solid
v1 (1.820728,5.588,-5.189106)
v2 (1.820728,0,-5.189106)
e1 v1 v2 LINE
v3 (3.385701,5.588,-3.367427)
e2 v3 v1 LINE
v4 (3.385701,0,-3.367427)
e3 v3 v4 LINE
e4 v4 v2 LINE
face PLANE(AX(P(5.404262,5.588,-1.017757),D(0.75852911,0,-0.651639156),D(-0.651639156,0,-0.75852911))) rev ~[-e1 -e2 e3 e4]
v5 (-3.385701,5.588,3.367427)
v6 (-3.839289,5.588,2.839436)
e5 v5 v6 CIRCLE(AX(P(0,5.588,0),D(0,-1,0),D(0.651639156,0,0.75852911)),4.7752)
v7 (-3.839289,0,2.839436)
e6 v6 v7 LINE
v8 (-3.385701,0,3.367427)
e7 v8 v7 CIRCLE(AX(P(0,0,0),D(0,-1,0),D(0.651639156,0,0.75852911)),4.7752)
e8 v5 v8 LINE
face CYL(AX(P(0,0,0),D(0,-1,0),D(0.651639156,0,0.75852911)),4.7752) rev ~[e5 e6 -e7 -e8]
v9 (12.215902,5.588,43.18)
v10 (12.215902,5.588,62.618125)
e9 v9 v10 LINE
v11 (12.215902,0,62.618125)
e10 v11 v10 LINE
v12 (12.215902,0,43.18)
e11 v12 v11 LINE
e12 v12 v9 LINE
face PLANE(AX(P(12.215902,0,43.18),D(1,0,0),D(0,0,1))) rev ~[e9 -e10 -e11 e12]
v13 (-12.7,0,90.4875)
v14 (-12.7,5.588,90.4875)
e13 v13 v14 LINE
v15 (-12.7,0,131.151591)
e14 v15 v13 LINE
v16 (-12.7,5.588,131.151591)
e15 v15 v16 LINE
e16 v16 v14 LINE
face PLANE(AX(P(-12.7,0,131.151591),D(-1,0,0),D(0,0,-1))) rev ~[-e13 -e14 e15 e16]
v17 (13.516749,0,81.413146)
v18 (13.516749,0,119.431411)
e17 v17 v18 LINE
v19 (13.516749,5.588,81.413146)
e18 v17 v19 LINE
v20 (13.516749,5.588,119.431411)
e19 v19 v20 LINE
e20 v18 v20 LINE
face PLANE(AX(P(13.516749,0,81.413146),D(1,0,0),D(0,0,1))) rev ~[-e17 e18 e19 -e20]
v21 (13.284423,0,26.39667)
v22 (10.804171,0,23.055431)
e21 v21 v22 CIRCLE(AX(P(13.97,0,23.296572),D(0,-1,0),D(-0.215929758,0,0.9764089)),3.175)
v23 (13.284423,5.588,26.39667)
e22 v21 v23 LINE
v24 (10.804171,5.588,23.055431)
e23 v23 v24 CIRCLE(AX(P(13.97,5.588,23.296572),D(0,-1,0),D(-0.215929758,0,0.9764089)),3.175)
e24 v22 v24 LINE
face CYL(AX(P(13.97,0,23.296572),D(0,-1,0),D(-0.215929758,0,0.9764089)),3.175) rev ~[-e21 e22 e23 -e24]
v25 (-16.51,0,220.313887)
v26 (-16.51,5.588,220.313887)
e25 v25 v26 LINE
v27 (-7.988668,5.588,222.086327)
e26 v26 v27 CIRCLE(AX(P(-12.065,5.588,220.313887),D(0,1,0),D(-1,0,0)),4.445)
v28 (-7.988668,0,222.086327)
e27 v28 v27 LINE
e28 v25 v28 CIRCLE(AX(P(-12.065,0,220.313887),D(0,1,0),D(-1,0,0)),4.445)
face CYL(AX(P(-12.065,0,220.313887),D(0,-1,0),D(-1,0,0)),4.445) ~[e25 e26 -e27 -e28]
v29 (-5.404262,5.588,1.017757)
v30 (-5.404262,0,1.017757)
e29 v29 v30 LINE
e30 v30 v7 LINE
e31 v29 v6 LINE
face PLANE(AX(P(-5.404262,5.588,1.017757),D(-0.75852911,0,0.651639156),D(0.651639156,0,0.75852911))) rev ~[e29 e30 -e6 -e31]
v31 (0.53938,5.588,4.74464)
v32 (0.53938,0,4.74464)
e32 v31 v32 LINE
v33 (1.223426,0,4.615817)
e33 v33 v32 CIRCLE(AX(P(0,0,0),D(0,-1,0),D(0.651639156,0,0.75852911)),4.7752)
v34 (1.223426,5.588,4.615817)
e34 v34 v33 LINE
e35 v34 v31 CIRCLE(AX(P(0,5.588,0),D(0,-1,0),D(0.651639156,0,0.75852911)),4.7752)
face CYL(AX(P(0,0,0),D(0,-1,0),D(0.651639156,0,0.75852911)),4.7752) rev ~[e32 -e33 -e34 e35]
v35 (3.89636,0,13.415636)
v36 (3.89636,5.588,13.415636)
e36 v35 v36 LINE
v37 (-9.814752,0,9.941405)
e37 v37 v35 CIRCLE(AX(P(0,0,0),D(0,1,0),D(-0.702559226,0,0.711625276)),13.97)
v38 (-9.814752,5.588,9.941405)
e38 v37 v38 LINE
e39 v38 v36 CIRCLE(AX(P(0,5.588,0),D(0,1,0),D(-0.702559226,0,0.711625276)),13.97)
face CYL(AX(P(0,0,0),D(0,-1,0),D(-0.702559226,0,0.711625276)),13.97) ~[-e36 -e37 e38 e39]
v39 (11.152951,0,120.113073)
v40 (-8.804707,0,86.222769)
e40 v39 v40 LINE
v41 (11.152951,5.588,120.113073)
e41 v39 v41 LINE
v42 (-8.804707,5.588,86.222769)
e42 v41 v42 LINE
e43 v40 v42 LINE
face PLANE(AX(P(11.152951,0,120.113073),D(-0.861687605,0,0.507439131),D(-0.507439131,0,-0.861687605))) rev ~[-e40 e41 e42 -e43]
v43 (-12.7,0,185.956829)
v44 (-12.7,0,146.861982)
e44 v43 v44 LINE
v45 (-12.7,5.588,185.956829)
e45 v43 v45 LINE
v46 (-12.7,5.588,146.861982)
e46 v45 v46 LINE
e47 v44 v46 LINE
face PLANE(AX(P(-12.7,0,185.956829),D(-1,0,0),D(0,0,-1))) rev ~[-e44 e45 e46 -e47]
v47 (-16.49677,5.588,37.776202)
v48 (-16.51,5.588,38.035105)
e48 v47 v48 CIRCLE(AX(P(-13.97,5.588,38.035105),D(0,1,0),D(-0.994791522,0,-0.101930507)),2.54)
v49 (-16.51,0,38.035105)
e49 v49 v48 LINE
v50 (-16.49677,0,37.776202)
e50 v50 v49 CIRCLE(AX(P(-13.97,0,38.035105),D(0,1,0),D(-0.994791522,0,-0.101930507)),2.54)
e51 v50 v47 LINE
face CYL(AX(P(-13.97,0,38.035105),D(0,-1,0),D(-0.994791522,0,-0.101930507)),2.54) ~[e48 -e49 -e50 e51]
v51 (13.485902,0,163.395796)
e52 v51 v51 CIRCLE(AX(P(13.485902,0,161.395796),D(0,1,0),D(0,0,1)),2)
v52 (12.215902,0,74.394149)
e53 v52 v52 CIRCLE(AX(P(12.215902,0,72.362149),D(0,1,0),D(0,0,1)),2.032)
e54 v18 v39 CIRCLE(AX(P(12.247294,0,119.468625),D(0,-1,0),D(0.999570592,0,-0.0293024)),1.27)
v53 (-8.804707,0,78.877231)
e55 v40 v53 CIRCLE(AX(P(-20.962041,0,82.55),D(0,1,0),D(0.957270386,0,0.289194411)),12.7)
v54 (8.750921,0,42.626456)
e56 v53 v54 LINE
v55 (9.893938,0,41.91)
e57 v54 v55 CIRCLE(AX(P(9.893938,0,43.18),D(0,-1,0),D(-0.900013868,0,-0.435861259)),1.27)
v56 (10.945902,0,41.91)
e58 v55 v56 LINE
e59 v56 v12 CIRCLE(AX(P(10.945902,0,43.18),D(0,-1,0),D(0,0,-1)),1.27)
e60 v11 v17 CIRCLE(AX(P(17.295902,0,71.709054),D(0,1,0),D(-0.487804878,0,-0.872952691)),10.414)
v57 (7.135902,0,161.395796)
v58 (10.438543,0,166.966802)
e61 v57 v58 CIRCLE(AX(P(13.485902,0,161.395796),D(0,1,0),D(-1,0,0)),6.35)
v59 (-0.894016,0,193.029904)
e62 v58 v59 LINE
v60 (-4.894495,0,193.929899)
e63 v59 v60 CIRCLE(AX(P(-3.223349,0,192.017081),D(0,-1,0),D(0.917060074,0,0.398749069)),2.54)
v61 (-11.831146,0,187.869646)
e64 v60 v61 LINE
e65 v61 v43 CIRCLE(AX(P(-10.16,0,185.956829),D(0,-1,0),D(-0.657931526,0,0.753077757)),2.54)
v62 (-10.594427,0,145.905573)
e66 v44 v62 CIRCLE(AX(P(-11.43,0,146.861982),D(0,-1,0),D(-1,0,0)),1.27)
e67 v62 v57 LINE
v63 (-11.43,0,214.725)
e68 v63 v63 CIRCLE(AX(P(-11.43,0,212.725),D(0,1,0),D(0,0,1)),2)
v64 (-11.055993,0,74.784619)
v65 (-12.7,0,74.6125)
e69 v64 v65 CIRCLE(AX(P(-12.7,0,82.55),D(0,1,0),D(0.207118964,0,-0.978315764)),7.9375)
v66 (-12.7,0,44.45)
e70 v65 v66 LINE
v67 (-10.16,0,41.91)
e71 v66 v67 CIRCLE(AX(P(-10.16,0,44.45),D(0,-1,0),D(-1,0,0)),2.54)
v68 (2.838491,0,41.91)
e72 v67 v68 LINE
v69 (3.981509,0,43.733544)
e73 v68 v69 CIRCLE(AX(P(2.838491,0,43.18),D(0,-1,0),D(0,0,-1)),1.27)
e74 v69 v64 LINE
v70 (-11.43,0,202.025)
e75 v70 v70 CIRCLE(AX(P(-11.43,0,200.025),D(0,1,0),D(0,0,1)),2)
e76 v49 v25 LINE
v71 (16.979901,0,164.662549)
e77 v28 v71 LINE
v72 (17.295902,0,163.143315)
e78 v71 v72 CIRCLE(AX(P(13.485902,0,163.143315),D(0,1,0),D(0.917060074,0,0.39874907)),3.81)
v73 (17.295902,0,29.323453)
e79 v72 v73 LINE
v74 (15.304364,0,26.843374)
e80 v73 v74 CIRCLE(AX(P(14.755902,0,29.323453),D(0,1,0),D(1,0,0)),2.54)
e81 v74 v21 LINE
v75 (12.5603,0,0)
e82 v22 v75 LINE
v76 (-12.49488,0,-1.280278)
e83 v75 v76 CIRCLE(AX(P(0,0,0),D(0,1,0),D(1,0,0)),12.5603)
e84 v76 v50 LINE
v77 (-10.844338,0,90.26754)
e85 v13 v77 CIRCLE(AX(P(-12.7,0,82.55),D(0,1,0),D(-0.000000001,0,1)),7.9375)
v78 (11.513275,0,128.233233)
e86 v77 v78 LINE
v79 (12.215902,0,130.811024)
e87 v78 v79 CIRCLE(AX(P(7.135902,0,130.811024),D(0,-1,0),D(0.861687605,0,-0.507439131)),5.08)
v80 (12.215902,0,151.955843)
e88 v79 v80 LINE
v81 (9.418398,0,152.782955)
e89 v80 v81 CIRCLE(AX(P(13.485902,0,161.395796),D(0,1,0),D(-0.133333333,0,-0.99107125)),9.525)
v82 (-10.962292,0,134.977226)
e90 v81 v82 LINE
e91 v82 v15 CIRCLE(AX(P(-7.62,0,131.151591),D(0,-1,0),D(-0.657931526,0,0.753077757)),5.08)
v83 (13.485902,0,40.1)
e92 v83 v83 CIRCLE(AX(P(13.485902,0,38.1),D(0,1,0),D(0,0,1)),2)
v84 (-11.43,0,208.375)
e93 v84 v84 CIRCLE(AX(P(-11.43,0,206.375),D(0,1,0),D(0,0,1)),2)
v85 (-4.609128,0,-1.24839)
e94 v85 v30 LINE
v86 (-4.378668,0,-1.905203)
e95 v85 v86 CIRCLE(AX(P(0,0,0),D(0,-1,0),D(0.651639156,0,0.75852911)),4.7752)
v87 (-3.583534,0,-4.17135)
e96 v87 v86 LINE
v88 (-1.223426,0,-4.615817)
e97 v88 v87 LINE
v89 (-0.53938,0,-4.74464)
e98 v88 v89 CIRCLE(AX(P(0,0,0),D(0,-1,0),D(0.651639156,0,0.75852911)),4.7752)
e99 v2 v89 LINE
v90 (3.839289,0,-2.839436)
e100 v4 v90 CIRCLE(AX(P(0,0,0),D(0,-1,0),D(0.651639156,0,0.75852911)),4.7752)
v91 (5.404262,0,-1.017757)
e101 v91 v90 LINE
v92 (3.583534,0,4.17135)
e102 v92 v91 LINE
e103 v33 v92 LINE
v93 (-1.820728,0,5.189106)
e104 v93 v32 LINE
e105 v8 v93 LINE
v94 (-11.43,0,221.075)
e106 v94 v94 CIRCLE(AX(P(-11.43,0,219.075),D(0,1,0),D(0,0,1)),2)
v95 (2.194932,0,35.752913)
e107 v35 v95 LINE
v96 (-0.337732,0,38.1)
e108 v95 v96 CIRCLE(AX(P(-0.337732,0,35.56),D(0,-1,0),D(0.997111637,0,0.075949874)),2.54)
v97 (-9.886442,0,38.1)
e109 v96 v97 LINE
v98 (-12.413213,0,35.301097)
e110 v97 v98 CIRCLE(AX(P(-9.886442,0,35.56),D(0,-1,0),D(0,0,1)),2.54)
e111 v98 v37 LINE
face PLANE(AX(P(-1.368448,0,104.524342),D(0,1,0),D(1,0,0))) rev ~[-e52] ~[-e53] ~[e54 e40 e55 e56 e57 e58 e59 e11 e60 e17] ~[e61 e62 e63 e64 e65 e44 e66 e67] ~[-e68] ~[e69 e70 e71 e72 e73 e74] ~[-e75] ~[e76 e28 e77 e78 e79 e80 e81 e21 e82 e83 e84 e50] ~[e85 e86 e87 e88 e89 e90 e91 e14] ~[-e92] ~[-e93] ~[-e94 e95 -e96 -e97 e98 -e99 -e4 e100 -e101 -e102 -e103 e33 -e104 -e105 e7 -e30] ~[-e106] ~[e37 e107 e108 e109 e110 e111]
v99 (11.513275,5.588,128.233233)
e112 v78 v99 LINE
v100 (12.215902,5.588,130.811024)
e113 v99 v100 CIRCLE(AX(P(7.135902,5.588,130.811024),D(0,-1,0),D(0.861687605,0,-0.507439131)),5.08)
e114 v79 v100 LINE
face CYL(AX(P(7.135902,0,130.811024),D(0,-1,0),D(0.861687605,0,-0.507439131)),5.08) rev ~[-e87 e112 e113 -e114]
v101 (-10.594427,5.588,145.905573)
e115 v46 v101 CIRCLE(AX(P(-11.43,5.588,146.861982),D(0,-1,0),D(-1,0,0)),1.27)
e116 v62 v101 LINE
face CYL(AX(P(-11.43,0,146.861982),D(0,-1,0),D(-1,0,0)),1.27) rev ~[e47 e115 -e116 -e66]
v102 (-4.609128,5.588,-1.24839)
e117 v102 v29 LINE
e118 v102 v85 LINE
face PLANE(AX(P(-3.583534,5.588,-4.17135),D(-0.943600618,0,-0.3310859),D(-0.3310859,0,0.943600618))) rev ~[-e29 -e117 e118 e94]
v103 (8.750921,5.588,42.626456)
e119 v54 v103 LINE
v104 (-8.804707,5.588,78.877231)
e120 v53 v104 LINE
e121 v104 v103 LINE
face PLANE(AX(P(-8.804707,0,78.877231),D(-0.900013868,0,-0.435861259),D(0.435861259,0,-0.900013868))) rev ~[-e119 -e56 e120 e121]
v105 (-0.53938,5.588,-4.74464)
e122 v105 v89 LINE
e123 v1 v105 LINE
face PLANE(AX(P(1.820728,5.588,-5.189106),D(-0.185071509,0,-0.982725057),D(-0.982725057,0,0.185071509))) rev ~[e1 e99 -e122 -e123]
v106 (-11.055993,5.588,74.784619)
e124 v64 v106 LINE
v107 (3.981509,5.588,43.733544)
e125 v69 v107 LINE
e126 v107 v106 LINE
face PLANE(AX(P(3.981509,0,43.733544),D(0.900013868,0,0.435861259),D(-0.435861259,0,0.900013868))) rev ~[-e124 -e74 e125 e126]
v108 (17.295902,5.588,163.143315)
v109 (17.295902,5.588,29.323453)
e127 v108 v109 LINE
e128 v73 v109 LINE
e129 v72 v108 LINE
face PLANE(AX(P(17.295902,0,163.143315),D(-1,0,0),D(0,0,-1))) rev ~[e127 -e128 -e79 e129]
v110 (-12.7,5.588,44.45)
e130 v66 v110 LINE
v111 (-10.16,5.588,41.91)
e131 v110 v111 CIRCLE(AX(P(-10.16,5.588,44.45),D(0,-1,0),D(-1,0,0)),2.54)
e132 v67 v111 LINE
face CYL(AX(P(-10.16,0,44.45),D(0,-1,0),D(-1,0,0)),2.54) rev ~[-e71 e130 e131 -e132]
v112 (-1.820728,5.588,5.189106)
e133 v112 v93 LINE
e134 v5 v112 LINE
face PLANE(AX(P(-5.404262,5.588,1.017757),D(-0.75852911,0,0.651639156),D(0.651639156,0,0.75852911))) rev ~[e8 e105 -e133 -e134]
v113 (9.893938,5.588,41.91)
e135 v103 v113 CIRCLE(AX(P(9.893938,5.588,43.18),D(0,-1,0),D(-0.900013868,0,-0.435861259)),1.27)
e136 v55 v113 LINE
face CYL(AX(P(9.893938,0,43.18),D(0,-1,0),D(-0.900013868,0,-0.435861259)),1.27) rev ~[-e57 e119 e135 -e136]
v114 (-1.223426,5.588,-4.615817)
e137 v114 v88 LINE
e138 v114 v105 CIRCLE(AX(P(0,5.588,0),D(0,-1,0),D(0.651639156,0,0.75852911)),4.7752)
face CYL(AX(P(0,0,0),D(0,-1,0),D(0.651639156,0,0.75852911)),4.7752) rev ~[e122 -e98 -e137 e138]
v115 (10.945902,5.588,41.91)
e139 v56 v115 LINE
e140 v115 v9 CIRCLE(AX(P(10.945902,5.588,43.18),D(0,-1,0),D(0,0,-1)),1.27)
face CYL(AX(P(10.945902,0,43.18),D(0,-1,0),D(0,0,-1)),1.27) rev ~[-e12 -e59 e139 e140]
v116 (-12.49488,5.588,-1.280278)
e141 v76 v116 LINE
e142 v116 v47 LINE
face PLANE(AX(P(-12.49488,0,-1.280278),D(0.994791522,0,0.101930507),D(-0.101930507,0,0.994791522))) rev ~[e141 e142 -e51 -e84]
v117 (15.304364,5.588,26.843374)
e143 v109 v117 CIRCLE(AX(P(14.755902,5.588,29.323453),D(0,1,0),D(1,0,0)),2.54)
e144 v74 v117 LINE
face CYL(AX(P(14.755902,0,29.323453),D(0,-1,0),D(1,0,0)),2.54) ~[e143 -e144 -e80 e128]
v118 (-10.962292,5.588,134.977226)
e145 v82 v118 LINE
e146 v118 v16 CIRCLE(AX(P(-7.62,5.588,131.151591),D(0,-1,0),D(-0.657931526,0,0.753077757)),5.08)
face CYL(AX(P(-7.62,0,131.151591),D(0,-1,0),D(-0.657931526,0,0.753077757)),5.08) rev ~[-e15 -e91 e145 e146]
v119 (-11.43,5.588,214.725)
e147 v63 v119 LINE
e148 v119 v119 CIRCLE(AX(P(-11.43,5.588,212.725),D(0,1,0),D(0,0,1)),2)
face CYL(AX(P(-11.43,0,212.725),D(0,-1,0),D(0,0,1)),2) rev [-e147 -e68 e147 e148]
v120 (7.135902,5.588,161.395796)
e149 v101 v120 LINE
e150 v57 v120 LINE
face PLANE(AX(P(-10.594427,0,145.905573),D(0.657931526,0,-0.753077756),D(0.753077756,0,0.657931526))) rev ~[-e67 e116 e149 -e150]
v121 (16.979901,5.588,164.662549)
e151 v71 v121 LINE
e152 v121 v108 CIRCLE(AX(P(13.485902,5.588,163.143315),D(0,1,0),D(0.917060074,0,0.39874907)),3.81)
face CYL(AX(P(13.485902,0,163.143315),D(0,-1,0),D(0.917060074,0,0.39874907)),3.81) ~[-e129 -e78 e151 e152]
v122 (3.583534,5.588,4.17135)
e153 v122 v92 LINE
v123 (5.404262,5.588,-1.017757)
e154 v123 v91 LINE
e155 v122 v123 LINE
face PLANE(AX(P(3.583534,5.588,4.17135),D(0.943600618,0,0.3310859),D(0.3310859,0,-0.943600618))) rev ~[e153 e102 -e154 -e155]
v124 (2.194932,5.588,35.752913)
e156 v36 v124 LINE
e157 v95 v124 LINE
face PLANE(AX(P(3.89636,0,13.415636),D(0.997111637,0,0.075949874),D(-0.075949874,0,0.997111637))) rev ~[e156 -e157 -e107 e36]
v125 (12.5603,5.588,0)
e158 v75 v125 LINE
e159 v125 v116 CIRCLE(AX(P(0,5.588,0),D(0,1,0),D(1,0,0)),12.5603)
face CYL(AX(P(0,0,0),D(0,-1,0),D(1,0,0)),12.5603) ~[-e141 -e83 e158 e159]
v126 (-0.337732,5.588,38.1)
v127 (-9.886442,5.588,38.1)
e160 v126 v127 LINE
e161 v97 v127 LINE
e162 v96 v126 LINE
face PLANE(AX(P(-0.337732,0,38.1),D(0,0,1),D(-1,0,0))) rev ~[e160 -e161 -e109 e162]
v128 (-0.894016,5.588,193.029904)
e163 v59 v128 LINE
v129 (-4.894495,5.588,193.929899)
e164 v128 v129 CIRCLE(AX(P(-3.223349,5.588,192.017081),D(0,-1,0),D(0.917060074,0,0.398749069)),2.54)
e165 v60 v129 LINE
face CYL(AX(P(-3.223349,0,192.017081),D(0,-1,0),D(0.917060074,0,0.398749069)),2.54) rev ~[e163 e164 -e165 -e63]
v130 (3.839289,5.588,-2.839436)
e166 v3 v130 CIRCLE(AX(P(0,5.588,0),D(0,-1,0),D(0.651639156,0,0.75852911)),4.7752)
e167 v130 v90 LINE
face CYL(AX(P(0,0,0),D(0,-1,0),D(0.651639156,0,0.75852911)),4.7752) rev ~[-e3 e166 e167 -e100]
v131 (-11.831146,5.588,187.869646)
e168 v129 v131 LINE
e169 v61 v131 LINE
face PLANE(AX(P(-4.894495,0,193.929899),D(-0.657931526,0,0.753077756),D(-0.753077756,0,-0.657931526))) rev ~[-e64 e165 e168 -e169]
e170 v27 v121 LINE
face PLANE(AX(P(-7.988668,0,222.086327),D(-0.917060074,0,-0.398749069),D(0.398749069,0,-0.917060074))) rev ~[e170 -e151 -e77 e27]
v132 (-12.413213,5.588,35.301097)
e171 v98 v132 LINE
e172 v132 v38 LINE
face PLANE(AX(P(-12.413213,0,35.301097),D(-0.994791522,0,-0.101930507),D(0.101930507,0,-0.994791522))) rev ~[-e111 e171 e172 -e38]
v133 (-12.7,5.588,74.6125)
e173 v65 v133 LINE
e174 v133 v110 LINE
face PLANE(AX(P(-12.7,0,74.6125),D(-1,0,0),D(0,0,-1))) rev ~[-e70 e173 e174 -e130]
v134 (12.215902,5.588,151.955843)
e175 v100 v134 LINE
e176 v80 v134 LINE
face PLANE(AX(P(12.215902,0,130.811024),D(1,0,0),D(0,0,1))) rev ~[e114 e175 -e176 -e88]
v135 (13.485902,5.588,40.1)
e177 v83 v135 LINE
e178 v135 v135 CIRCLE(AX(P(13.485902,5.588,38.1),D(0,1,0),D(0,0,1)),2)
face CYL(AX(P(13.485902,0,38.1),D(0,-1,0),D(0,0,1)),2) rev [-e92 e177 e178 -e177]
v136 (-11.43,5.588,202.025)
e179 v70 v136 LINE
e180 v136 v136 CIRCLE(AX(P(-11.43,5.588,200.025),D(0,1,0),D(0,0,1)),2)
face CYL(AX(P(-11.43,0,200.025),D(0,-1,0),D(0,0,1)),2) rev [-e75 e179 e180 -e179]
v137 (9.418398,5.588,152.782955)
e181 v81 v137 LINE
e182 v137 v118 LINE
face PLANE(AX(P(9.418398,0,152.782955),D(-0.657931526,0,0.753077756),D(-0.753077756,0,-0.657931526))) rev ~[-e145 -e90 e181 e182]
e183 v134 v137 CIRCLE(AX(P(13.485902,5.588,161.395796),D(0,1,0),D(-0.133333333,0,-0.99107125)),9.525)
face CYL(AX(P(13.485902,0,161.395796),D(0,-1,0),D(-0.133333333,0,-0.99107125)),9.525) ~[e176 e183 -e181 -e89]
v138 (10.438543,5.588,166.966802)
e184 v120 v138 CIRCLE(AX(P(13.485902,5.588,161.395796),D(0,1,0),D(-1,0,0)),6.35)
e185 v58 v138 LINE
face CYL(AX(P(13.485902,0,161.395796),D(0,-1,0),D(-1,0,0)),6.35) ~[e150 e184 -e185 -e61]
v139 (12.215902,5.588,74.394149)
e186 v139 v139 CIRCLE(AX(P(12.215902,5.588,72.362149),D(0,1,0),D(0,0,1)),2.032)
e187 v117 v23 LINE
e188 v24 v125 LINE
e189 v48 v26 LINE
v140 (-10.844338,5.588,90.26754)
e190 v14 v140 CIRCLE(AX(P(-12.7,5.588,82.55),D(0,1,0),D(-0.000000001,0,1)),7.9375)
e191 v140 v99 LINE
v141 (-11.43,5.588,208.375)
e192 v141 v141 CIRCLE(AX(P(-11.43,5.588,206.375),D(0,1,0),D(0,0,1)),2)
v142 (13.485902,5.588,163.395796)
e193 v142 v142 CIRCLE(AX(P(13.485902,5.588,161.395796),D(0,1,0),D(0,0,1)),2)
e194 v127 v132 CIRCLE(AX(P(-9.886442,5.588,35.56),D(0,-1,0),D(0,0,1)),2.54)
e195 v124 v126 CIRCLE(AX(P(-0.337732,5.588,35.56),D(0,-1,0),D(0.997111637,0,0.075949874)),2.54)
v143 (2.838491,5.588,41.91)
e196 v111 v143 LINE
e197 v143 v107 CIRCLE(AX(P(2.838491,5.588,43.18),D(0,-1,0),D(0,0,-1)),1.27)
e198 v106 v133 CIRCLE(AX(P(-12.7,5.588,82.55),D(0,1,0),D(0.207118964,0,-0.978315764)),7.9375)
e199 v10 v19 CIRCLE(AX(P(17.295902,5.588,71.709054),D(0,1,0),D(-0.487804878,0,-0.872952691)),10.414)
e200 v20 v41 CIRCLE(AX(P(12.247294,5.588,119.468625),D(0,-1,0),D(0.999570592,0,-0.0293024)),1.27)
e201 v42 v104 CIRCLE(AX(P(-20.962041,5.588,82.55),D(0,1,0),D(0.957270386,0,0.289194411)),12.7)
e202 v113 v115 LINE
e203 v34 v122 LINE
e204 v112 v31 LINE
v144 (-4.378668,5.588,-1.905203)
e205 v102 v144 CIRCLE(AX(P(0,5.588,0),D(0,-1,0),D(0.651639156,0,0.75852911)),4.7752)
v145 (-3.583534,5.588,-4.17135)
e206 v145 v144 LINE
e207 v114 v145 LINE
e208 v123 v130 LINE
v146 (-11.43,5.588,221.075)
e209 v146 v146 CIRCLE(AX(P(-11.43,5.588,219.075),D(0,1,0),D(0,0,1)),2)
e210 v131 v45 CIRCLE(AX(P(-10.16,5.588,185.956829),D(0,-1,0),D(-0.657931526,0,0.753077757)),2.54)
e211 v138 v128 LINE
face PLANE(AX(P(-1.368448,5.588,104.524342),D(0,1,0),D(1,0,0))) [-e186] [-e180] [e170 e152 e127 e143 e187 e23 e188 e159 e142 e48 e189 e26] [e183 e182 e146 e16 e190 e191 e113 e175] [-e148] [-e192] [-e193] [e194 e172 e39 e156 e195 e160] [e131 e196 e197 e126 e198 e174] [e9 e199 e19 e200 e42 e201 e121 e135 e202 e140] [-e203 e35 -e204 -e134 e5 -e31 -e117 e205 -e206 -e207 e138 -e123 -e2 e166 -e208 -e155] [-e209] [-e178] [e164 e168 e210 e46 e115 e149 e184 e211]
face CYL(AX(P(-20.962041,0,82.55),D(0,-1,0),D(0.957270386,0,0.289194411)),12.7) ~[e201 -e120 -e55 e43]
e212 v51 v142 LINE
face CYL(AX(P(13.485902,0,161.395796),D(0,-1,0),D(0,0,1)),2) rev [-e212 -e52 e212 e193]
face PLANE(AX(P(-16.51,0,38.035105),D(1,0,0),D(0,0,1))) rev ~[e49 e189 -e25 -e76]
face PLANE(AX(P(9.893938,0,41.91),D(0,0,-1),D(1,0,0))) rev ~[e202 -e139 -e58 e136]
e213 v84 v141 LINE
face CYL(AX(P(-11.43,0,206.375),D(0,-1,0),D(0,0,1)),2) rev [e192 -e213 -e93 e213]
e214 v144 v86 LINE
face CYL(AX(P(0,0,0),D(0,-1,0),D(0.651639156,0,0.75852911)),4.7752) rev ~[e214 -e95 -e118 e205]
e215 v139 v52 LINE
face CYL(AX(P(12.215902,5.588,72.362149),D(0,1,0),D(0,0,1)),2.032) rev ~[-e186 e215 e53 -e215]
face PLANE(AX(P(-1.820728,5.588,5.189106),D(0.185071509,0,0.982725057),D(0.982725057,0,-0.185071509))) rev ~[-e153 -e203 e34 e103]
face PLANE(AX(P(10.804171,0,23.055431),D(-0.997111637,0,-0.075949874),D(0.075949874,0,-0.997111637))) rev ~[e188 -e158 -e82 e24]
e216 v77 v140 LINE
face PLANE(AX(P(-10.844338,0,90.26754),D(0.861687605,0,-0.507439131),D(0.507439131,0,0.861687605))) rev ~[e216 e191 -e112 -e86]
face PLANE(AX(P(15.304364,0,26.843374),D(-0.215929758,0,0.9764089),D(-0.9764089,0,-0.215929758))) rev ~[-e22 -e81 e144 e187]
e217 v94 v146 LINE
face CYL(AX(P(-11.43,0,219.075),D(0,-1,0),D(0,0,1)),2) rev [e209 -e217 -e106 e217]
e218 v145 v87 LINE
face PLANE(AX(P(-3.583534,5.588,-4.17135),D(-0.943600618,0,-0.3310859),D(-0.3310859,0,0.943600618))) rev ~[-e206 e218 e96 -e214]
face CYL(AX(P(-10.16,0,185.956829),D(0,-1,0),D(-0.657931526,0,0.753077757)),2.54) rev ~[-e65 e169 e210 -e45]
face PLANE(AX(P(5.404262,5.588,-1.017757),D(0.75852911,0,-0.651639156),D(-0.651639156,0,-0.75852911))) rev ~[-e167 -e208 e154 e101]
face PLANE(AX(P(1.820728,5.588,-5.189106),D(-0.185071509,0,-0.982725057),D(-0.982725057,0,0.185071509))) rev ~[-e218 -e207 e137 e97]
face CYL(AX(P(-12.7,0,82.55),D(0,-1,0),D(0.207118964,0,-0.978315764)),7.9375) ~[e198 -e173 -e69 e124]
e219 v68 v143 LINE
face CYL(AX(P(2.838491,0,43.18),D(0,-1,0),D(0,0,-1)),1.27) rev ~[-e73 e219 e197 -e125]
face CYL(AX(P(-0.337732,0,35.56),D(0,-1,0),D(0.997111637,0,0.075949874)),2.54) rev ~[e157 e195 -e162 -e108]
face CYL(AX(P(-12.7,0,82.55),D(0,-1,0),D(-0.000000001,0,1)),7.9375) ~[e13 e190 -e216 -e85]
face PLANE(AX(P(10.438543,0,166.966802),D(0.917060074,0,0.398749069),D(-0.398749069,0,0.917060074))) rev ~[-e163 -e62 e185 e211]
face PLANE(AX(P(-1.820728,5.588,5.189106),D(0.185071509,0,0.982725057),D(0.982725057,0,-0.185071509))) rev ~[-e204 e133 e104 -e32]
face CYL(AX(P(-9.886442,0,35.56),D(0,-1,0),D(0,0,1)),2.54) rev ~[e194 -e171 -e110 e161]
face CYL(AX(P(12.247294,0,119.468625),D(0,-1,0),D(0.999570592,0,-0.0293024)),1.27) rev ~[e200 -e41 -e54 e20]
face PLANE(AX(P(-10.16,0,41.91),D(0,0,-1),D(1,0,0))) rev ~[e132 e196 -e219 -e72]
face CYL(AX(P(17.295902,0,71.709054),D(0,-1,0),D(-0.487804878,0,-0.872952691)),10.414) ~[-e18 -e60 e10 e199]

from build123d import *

# Parameters (mm, degrees)
SKETCH2_R           = 2
SKETCH2_R_2         = 1.999999991
BOSS_EXTRUDE1_DEPTH = 5.588
SKETCH7_R           = 2.032
CUT_EXTRUDE1_DEPTH  = 5.588
CUT_EXTRUDE2_DEPTH  = 226.492641696


with BuildPart() as part:
    # Sketch2 → Boss-Extrude1 (new body)
    with BuildSketch(Plane(origin=(0, 0, 0), x_dir=(1, 0, 0), z_dir=(0, 1, 0))):
        with BuildLine():
            ThreePointArc((17.295902343, -29.323452593), (16.73639375, -27.733089808), (15.304363929, -26.843373987))
            Line((15.304363929, -26.843373987), (13.284423018, -26.396670406))
            ThreePointArc((13.284423018, -26.396670406), (11.420627025, -25.189010374), (10.804170553, -23.055431298))
            Line((10.804170553, -23.055431298), (12.5603, 0))
            ThreePointArc((12.5603, 0), (0.640974044, 12.543934326), (-12.49487995, 1.28027775))
            Line((-12.49487995, 1.28027775), (-16.496770465, -37.776201638))
            ThreePointArc((-16.496770465, -37.776201638), (-16.50669046, -37.90548449), (-16.51, -38.035105126))
            Line((-16.51, -38.035105126), (-16.51, -220.313887427))
            ThreePointArc((-16.51, -220.313887427), (-12.970187584, -224.665744552), (-7.988667969, -222.086327038))
            Line((-7.988667969, -222.086327038), (16.979901226, -164.662549258))
            ThreePointArc((16.979901226, -164.662549258), (17.216065593, -163.919190378), (17.295902343, -163.143315306))
            Line((17.295902343, -163.143315306), (17.295902343, -29.323452593))
        make_face()
        with Locations(Location((-11.43, -219.075, 0), (0, 0, 270))):
            Circle(SKETCH2_R, mode=Mode.SUBTRACT)
        with Locations(Location((-11.43, -212.725, 0), (0, 0, 270))):
            Circle(SKETCH2_R, mode=Mode.SUBTRACT)
        with Locations(Location((-11.43, -206.375, 0), (0, 0, 270))):
            Circle(SKETCH2_R, mode=Mode.SUBTRACT)
        with Locations(Location((-11.43, -200.025, 0), (0, 0, 270))):
            Circle(SKETCH2_R, mode=Mode.SUBTRACT)
        with BuildLine():
            ThreePointArc((7.135902343, -161.395796446), (8.023611961, -164.633987883), (10.438542905, -166.966801782))
            Line((10.438542905, -166.966801782), (-0.894016375, -193.029903785))
            ThreePointArc((-0.894016375, -193.029903785), (-2.665854515, -194.495144898), (-4.89449504, -193.929898651))
            Line((-4.89449504, -193.929898651), (-11.831146076, -187.869646091))
            ThreePointArc((-11.831146076, -187.869646091), (-12.472607947, -187.007278248), (-12.7, -185.95682859))
            Line((-12.7, -185.95682859), (-12.7, -146.861981888))
            ThreePointArc((-12.7, -146.861981888), (-11.955224829, -145.705677915), (-10.594426962, -145.905573138))
            Line((-10.594426962, -145.905573138), (7.135902343, -161.395796446))
        make_face(mode=Mode.SUBTRACT)
        with BuildLine():
            ThreePointArc((12.215902343, -151.955842791), (10.785297541, -152.261664921), (9.418398214, -152.782955151))
            Line((9.418398214, -152.782955151), (-10.962292152, -134.977225798))
            ThreePointArc((-10.962292152, -134.977225798), (-12.245215894, -133.252490112), (-12.7, -131.151590796))
            Line((-12.7, -131.151590796), (-12.7, -90.4875))
            ThreePointArc((-12.7, -90.4875), (-11.765673597, -90.432318214), (-10.844338135, -90.267540106))
            Line((-10.844338135, -90.267540106), (11.513275375, -128.23323342))
            ThreePointArc((11.513275375, -128.23323342), (12.037098881, -129.475107855), (12.215902343, -130.811024207))
            Line((12.215902343, -130.811024207), (12.215902343, -151.955842791))
        make_face(mode=Mode.SUBTRACT)
        with Locations(Location((13.485902343, -161.395796446, 0), (0, 0, 270))):
            Circle(SKETCH2_R, mode=Mode.SUBTRACT)
        with BuildLine():
            Line((-10.16, -41.91), (2.838491406, -41.91))
            ThreePointArc((2.838491406, -41.91), (3.914572403, -42.505500417), (3.981509018, -43.733543799))
            Line((3.981509018, -43.733543799), (-11.055993219, -74.784618621))
            ThreePointArc((-11.055993219, -74.784618621), (-11.873503915, -74.655646925), (-12.7, -74.6125))
            Line((-12.7, -74.6125), (-12.7, -44.45))
            ThreePointArc((-12.7, -44.45), (-11.956051224, -42.653948776), (-10.16, -41.91))
        make_face(mode=Mode.SUBTRACT)
        with BuildLine():
            ThreePointArc((-9.886442157, -38.1), (-11.771808813, -37.262055396), (-12.413212622, -35.301096512))
            Line((-12.413212622, -35.301096512), (-9.81475239, -9.941405108))
            ThreePointArc((-9.81475239, -9.941405108), (-3.431386466, -13.542026692), (3.896359547, -13.415635739))
            Line((3.896359547, -13.415635739), (2.194931831, -35.752912681))
            ThreePointArc((2.194931831, -35.752912681), (1.388767881, -37.42300808), (-0.337731726, -38.1))
            Line((-0.337731726, -38.1), (-9.886442157, -38.1))
        make_face(mode=Mode.SUBTRACT)
        with BuildLine():
            ThreePointArc((3.111707299, -3.622128204), (-4.505881672, 1.581001391), (4.69270869, 0.883753468))
            Line((4.69270869, 0.883753468), (3.111707299, -3.622128204))
        make_face(mode=Mode.SUBTRACT)
        with BuildLine():
            ThreePointArc((-8.804706991, -86.222769023), (-8.262040897, -82.55), (-8.804706991, -78.877230977))
            Line((-8.804706991, -78.877230977), (8.75092063, -42.626456201))
            ThreePointArc((8.75092063, -42.626456201), (9.219438659, -42.103919003), (9.893938242, -41.91))
            Line((9.893938242, -41.91), (10.945902343, -41.91))
            ThreePointArc((10.945902343, -41.91), (11.843927955, -42.281974388), (12.215902343, -43.18))
            Line((12.215902343, -43.18), (12.215902343, -62.618124667))
            ThreePointArc((12.215902343, -62.618124667), (6.906756389, -72.428110561), (13.516748759, -81.413145613))
            Line((13.516748759, -81.413145613), (13.516748759, -119.431411199))
            ThreePointArc((13.516748759, -119.431411199), (12.599191369, -120.688899116), (11.152950849, -120.113072943))
            Line((11.152950849, -120.113072943), (-8.804706991, -86.222769023))
        make_face(mode=Mode.SUBTRACT)
        with Locations(Location((13.485902343, -38.1, 0), (0, 0, 270))):
            Circle(SKETCH2_R_2, mode=Mode.SUBTRACT)
    extrude(amount=BOSS_EXTRUDE1_DEPTH)

    # Sketch7 → Cut-Extrude1 (cut)
    with BuildSketch(Plane(origin=(0, 5.588, 0), x_dir=(1, 0, 0), z_dir=(0, 1, 0))):
        with Locations(Location((12.215902343, -72.362149281, 0), (0, 0, 270))):
            Circle(SKETCH7_R)
    extrude(amount=-CUT_EXTRUDE1_DEPTH, mode=Mode.SUBTRACT)

    # Sketch8 → Cut-Extrude2 (cut, through all)
    with BuildSketch(Plane(origin=(0, 5.588, 0), x_dir=(1, 0, 0), z_dir=(0, 1, 0))):
        Polygon((1.820727883, 5.189106375), (-3.583534002, 4.171349788), (-5.404261886, -1.017756587), (-1.820727883, -5.189106375), (3.583534002, -4.171349788), (5.404261886, 1.017756587), align=None)
    extrude(amount=-CUT_EXTRUDE2_DEPTH, mode=Mode.SUBTRACT)


solid = part.part
